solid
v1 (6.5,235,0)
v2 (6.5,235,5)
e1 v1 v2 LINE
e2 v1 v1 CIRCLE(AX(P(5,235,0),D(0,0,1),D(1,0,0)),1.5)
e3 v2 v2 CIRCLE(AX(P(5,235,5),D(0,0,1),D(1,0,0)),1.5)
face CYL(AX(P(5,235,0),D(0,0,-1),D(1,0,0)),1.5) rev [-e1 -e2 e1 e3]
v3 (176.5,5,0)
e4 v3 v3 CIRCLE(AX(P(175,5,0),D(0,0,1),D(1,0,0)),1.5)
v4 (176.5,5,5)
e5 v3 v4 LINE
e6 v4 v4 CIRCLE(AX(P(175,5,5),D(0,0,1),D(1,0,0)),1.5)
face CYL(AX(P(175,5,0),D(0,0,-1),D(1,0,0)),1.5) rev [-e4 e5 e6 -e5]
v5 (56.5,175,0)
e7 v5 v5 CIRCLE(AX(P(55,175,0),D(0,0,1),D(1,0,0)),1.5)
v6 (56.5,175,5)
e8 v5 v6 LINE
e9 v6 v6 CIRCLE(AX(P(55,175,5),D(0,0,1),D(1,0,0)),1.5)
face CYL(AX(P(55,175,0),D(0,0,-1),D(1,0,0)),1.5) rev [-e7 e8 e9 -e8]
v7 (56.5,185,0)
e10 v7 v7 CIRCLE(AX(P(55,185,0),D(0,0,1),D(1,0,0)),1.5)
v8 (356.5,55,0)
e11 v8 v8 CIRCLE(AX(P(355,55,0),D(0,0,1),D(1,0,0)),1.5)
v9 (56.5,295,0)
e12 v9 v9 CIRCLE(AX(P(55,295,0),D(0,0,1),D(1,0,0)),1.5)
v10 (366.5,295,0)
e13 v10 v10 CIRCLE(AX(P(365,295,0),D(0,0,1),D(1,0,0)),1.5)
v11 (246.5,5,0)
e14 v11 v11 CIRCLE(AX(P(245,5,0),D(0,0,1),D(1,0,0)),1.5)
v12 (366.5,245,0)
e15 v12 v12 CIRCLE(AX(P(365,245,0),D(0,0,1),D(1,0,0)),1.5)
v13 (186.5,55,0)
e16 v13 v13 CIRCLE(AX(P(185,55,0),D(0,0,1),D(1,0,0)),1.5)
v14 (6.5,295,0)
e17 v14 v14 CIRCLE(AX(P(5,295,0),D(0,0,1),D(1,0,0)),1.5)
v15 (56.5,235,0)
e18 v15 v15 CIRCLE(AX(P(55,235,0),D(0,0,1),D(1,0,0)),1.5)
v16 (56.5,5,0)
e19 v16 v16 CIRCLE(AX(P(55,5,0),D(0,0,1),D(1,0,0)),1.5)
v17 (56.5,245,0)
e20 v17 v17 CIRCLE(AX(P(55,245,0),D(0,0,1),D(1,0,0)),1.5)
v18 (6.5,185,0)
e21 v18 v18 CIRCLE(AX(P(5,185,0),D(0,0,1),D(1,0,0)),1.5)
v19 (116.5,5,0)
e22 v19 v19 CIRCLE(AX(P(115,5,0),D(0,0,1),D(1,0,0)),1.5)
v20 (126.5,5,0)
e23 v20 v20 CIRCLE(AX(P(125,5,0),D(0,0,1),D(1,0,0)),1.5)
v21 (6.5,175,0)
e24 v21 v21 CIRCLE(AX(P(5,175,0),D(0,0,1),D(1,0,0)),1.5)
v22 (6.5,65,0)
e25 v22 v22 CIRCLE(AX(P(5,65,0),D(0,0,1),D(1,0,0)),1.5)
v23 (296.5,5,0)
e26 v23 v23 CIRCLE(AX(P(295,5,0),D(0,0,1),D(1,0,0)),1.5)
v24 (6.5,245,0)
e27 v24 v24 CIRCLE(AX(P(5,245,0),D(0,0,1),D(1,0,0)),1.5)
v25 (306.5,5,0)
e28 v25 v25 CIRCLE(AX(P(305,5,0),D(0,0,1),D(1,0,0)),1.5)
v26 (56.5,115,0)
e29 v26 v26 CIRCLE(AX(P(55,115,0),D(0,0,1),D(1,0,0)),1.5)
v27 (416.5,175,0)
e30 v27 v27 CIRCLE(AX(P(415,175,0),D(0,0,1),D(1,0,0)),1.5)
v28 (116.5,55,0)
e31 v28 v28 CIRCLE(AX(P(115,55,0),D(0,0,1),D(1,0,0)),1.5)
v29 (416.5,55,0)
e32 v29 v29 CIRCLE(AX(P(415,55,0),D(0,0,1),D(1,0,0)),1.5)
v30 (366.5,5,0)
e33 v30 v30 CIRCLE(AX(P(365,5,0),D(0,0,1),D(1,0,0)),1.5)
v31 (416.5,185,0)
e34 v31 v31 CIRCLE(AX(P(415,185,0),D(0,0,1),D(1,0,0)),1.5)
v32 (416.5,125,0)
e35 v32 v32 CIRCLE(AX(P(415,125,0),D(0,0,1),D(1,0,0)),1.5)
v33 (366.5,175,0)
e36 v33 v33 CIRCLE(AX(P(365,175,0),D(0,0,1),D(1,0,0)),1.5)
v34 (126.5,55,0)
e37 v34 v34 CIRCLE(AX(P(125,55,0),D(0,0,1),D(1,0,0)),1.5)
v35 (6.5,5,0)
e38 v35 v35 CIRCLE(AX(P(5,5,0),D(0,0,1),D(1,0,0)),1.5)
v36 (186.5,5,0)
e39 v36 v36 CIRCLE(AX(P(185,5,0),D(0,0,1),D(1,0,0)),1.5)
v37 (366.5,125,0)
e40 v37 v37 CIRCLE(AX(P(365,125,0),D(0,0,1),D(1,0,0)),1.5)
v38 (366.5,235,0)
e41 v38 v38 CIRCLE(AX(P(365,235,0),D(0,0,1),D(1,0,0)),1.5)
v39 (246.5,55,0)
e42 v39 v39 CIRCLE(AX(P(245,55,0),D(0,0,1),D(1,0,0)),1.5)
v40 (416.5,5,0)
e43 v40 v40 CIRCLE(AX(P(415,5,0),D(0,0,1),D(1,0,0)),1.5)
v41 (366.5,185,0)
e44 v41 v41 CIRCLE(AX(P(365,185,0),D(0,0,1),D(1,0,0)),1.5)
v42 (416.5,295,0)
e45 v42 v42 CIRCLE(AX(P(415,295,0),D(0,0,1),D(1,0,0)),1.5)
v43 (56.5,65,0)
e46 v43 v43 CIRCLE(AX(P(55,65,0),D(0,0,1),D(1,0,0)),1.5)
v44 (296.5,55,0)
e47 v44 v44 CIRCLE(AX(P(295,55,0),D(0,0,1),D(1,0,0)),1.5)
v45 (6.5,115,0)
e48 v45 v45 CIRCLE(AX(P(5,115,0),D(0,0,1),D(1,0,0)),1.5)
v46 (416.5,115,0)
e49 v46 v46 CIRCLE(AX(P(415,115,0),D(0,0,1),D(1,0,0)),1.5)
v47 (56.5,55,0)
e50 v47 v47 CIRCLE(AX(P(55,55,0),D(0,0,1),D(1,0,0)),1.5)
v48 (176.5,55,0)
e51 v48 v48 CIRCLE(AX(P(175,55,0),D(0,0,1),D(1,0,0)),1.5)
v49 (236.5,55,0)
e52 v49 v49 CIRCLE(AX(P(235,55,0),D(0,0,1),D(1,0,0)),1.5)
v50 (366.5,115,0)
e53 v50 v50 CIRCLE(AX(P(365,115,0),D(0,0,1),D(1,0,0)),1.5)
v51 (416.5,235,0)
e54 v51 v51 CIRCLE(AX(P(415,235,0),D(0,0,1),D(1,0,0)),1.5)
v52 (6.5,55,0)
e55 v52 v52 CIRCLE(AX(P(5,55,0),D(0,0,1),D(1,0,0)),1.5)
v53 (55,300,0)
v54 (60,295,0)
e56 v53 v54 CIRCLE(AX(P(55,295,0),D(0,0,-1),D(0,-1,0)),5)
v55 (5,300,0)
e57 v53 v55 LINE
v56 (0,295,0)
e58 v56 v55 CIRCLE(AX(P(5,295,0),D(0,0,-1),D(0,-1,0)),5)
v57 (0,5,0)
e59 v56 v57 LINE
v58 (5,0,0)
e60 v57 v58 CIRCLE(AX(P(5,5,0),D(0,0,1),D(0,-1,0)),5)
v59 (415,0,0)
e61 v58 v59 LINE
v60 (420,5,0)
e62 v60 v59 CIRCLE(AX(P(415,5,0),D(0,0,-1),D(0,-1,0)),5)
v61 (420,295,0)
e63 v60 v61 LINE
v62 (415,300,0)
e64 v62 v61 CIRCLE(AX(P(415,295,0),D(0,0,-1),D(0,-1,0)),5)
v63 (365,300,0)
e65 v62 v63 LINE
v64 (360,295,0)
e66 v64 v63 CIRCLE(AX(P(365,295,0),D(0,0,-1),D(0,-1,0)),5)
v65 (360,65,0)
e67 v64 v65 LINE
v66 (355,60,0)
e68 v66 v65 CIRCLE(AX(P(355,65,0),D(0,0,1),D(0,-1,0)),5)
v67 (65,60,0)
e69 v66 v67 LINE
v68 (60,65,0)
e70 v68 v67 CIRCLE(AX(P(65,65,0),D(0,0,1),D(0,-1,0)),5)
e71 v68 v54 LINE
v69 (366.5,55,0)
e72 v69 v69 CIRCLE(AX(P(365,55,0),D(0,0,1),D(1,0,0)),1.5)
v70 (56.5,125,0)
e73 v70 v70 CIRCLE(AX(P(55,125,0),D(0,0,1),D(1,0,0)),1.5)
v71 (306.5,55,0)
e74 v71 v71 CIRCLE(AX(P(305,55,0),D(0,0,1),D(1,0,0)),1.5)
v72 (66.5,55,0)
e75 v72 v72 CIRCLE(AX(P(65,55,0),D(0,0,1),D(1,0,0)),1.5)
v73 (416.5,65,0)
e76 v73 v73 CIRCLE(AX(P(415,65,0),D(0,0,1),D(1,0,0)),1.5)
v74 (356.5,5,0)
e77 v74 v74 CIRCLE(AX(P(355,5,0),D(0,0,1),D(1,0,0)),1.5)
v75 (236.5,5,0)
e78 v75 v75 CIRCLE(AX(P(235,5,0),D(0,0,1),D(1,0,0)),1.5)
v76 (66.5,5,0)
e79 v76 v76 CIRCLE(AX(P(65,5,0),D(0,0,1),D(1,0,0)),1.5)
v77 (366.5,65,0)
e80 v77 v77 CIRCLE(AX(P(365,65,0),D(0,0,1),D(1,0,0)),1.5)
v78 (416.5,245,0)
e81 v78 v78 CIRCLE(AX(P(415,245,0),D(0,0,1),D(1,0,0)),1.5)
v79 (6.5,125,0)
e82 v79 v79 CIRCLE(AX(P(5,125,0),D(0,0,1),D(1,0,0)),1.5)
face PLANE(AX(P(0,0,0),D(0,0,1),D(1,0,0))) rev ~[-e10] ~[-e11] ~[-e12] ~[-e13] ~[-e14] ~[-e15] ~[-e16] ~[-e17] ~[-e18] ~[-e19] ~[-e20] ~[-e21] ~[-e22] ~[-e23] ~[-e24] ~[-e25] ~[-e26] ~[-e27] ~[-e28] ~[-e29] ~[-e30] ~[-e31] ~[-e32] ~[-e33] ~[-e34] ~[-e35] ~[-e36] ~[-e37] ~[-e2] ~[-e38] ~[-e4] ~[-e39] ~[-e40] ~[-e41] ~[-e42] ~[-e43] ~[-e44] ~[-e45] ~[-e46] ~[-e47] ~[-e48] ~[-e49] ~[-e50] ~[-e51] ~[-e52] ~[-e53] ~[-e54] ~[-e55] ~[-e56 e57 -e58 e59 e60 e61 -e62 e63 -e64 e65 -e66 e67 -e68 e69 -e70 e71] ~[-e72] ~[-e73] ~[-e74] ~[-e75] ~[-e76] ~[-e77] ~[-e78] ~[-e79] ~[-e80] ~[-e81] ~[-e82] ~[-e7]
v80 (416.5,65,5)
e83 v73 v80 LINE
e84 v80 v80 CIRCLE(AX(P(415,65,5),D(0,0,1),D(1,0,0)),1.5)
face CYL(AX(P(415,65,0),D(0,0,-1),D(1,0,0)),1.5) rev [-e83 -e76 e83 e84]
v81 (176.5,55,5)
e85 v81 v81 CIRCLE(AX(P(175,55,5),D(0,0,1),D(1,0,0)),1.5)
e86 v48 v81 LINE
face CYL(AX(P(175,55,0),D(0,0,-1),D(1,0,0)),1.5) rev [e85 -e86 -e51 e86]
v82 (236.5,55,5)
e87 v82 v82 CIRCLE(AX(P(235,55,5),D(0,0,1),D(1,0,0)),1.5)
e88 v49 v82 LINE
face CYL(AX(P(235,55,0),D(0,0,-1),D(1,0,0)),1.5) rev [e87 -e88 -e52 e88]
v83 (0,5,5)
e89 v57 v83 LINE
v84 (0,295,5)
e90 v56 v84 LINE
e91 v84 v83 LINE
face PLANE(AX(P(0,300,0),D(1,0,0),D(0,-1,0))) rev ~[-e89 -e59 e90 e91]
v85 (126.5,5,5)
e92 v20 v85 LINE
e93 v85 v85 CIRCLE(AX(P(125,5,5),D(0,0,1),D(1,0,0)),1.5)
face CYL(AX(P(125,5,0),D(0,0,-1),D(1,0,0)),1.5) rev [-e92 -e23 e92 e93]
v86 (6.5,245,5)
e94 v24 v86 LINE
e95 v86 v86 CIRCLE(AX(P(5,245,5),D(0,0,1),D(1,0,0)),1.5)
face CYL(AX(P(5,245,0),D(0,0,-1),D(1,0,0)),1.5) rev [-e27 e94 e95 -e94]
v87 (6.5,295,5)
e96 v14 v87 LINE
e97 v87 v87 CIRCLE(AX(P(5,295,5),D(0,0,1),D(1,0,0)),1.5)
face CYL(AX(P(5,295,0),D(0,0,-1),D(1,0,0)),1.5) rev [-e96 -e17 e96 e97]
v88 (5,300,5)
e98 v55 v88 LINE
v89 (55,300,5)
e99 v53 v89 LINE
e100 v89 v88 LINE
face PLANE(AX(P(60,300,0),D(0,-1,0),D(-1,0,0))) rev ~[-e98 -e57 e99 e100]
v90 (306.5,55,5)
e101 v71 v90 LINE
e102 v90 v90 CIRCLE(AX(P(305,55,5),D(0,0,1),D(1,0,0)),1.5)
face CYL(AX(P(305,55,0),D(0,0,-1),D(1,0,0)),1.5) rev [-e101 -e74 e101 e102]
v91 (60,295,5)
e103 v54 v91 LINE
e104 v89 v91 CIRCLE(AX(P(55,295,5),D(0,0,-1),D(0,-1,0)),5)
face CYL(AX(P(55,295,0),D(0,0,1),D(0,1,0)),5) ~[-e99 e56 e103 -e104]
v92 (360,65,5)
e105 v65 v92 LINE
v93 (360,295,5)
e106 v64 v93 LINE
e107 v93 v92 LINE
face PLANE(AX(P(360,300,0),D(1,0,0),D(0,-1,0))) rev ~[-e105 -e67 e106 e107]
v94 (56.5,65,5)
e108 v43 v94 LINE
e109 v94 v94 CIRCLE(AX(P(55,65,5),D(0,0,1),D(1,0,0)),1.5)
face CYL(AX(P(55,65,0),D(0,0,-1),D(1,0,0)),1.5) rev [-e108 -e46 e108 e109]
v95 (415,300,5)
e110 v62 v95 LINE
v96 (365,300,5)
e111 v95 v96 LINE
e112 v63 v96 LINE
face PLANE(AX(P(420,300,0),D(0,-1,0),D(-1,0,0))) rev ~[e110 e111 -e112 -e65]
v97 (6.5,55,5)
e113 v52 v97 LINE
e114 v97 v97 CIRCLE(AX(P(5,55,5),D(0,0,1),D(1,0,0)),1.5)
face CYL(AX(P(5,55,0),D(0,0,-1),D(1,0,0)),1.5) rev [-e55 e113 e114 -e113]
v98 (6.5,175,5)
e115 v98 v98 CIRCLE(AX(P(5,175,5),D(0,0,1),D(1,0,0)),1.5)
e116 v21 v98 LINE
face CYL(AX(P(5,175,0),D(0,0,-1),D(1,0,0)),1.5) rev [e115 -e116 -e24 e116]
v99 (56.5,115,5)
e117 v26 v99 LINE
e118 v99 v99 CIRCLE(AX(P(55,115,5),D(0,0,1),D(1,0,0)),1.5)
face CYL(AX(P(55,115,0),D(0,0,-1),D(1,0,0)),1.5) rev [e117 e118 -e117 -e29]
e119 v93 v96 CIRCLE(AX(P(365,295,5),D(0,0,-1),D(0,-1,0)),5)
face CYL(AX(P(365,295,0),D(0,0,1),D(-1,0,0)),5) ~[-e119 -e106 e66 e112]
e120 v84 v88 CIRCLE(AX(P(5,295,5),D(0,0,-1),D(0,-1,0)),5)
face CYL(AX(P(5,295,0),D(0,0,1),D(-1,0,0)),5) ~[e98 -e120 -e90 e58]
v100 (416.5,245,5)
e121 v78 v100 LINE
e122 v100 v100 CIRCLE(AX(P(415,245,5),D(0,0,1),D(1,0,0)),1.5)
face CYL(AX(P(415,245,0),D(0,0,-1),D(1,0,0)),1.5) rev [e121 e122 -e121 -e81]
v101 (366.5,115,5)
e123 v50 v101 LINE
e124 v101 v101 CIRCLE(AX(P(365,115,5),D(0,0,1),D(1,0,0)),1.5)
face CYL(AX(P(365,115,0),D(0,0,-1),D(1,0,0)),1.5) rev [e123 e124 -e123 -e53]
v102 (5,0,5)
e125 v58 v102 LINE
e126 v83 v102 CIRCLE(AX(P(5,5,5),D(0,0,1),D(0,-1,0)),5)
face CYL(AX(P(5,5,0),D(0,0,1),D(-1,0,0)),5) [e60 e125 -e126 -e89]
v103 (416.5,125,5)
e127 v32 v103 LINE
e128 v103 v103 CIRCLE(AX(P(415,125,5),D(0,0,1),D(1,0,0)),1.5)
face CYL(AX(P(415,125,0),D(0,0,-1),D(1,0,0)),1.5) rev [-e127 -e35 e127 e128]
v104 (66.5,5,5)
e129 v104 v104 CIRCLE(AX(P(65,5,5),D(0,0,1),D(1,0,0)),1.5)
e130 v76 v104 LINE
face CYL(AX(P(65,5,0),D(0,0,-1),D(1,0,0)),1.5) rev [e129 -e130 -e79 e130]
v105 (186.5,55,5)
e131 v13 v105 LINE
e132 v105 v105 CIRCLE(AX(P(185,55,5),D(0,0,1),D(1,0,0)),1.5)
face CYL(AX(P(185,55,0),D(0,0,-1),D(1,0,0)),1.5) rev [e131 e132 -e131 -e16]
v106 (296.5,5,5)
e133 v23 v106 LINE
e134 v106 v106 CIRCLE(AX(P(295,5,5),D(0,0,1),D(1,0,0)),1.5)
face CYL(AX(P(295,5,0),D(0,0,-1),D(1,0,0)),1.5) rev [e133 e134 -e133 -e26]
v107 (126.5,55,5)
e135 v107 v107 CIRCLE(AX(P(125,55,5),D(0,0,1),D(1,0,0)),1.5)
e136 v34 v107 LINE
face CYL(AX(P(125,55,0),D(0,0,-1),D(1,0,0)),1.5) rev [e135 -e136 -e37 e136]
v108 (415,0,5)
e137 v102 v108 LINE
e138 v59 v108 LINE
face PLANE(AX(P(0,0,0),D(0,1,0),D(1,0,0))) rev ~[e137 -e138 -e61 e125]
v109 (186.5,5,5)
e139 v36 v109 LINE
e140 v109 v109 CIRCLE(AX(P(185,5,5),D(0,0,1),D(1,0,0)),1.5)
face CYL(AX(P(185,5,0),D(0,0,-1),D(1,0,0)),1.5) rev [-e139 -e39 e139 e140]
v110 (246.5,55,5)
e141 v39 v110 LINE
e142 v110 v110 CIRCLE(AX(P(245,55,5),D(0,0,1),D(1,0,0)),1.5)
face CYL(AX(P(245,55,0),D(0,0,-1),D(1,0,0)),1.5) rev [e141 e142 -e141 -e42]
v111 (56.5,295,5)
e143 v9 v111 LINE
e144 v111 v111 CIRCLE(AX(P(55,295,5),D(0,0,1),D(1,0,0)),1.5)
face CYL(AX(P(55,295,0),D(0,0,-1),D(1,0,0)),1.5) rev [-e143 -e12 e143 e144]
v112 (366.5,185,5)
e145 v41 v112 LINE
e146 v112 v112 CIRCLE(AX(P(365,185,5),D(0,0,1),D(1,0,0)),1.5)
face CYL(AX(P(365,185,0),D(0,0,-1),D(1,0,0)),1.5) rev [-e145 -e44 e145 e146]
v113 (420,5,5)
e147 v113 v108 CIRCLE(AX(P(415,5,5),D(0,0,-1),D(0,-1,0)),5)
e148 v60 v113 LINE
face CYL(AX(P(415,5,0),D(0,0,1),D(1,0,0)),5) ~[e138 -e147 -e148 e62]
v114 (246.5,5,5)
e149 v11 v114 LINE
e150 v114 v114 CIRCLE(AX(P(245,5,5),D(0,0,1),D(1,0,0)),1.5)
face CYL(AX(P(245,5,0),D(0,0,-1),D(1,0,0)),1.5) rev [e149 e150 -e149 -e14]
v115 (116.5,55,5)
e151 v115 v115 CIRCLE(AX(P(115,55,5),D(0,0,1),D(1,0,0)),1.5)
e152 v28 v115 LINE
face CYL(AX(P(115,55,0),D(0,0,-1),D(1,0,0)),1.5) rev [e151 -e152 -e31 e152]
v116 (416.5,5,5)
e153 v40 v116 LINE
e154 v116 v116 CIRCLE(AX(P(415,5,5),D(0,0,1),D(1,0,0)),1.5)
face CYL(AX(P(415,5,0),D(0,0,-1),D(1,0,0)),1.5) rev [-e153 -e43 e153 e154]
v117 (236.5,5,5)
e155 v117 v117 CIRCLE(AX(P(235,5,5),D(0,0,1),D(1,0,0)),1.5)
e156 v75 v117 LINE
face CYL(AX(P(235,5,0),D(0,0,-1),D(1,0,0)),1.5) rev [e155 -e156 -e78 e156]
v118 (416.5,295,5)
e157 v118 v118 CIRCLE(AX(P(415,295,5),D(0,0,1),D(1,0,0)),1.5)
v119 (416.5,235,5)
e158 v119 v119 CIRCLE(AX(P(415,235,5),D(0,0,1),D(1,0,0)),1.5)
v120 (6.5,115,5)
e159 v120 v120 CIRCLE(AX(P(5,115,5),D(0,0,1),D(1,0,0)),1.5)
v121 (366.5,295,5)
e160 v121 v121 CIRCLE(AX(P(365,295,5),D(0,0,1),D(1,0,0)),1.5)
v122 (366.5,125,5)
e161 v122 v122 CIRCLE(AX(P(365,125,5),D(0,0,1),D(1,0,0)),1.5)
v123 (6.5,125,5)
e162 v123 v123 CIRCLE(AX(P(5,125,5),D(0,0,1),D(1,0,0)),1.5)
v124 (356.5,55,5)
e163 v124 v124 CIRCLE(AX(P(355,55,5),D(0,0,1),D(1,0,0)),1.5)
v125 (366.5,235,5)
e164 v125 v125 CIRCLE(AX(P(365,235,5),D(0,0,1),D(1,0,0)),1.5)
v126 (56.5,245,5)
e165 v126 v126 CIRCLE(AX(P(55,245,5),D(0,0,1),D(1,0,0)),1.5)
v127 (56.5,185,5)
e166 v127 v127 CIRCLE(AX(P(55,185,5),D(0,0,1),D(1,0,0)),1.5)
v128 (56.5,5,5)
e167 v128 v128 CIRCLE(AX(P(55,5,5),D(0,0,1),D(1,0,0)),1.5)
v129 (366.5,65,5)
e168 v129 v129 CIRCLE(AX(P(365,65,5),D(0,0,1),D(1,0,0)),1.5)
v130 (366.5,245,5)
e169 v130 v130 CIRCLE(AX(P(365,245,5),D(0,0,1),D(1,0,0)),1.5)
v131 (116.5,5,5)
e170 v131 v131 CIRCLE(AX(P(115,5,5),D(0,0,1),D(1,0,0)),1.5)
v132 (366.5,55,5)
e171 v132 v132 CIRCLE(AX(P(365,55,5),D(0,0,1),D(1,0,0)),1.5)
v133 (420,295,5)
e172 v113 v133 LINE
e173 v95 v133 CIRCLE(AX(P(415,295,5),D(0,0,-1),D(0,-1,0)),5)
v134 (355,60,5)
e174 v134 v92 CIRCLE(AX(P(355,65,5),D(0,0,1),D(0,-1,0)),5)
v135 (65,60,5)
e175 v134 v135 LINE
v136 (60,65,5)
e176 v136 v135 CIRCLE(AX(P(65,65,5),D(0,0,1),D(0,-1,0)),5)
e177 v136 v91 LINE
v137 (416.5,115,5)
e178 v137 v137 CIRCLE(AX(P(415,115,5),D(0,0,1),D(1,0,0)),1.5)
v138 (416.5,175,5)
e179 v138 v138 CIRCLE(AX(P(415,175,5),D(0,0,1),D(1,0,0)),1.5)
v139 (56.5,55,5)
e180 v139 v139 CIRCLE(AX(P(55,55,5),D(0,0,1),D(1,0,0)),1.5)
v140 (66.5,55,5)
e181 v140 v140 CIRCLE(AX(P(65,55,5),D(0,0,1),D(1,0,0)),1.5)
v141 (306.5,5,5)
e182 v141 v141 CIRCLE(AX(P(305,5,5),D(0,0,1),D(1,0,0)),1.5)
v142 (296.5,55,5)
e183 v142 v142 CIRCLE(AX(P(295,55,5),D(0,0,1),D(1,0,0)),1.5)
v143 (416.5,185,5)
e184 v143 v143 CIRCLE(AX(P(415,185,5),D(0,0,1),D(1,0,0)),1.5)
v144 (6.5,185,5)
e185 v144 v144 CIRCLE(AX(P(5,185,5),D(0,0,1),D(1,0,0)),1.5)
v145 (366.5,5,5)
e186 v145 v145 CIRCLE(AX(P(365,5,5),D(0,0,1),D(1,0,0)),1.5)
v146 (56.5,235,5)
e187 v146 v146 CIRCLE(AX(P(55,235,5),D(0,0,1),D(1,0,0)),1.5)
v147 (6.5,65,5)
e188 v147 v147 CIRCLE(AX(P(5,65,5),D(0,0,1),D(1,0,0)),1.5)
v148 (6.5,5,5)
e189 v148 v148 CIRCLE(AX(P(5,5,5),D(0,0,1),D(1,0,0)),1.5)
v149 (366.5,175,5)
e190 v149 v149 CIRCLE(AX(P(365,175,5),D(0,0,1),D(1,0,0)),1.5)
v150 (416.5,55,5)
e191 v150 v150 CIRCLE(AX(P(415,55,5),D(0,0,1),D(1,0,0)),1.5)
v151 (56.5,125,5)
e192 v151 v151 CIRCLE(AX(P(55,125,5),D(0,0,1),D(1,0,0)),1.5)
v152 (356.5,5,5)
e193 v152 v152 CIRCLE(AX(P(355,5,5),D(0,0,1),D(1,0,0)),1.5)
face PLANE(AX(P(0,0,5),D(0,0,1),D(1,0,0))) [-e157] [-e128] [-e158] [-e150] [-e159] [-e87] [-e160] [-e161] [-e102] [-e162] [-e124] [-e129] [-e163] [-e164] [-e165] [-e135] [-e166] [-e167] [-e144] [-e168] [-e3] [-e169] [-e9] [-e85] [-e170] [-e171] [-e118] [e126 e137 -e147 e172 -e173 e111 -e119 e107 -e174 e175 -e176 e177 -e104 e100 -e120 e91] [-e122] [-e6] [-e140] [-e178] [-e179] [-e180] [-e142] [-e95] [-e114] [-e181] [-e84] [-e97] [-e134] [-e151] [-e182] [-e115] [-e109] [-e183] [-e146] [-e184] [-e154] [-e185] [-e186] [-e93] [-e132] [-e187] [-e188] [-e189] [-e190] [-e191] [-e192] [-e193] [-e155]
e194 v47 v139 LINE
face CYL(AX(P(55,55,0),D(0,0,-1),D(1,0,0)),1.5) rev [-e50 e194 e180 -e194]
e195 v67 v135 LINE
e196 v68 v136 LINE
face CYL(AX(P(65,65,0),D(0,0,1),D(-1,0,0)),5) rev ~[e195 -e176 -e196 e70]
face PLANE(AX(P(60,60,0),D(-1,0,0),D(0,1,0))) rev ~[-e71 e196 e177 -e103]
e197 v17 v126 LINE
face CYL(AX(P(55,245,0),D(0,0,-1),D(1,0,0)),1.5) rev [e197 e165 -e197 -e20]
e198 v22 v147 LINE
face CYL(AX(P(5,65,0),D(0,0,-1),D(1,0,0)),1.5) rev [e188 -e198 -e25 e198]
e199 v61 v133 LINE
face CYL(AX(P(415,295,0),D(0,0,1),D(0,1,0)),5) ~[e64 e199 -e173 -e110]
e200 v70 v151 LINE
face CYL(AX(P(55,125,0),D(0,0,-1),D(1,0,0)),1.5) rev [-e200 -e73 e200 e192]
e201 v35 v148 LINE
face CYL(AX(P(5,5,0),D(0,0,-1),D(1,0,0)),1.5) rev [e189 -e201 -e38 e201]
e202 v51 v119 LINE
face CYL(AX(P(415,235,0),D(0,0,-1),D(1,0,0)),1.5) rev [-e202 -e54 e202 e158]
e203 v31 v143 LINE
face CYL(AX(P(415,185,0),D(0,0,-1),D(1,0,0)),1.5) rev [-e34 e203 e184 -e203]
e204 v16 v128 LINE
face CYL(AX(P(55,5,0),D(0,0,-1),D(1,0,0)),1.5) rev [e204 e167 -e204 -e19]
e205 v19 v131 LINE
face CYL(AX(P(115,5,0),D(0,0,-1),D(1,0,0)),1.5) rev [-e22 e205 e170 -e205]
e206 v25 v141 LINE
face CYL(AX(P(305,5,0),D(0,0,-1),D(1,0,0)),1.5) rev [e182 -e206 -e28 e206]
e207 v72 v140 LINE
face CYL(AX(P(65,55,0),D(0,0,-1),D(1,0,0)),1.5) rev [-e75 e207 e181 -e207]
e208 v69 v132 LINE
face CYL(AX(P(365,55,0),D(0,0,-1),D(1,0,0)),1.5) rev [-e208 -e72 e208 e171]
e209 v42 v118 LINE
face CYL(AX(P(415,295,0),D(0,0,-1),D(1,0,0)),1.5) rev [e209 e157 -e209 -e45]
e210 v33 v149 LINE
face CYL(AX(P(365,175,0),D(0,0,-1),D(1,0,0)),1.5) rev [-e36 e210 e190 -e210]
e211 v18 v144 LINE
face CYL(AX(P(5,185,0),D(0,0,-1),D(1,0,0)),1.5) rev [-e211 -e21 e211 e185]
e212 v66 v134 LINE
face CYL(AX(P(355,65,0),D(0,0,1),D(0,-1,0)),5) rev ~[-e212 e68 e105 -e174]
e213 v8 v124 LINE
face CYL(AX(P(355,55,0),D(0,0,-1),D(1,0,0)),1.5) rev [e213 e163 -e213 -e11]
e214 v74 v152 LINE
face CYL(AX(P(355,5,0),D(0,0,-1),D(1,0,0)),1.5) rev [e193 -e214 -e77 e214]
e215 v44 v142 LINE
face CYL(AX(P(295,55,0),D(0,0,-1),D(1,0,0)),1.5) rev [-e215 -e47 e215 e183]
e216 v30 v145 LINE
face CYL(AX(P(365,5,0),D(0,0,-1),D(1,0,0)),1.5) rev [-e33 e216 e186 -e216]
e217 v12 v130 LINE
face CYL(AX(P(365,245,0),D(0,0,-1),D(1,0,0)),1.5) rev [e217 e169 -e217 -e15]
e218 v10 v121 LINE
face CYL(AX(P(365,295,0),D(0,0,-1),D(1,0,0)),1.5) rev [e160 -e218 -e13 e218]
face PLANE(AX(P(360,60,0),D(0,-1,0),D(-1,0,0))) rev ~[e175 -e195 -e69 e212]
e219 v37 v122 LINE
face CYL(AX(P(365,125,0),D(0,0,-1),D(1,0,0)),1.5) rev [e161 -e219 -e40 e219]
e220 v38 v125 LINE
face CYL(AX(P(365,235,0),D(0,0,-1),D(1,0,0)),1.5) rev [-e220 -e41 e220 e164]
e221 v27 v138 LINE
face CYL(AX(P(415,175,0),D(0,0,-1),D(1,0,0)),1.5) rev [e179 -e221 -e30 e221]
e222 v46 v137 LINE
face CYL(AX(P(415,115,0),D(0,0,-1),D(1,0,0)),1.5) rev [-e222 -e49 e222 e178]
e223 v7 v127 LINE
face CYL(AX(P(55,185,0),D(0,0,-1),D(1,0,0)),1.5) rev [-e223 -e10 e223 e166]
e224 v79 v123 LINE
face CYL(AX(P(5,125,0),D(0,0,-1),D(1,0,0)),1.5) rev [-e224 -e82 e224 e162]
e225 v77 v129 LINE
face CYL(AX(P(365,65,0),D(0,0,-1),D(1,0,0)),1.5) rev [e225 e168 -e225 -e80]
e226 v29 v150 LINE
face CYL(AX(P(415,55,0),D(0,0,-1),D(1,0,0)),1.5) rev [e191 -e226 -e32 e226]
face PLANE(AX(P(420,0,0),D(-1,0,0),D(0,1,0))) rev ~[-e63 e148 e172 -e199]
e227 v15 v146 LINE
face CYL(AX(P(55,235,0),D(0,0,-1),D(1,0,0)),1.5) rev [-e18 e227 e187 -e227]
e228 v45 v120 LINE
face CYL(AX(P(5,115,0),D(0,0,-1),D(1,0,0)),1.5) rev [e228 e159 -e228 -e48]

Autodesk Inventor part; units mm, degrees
ref_plane "YZ Plane" through (0, 0, 0) normal (1, 0, 0) x (0, 1, 0)
ref_plane "XZ Plane" through (0, 0, 0) normal (0, 1, 0) x (-1, 0, 0)
ref_plane "XY Plane" through (0, 0, 0) normal (0, 0, 1) x (1, 0, 0)
sketch "Sketch1" plane through (0, 0, 0) normal (0, 0, 1) x (1, 0, 0)
  line L0 (0, 0) -> (420, 0)
  line L1 (420, 0) -> (420, 300)
  line L2 (420, 300) -> (360, 300)
  line L3 (360, 300) -> (360, 60)
  line L4 (360, 60) -> (60, 60)
  line L5 (60, 60) -> (60, 300)
  line L6 (60, 300) -> (0, 300)
  line L7 (0, 300) -> (0, 0)
  line L8 (0, 300) -> (0, 240) construction
  line L9 (0, 240) -> (0, 180) construction
  line L10 (0, 180) -> (0, 120) construction
  line L11 (0, 120) -> (0, 60) construction
  line L12 (420, 300) -> (420, 240) construction
  line L13 (420, 240) -> (420, 180) construction
  line L14 (420, 180) -> (420, 120) construction
  line L15 (420, 120) -> (420, 60) construction
  line L16 (60, 60) -> (120, 60) construction
  line L17 (120, 60) -> (180, 60) construction
  line L18 (180, 60) -> (240, 60) construction
  line L19 (240, 60) -> (300, 60) construction
  line L20 (300, 60) -> (360, 60) construction
  line L21 (0, 240) -> (60, 300) construction
  line L22 (0, 240) -> (60, 240) construction
  line L23 (0, 180) -> (60, 180) construction
  line L24 (0, 120) -> (60, 120) construction
  line L25 (0, 60) -> (60, 60) construction
  line L26 (60, 60) -> (60, 0) construction
  line L27 (0, 180) -> (60, 240) construction
  line L28 (0, 120) -> (60, 180) construction
  line L29 (0, 60) -> (60, 120) construction
  line L30 (0, 0) -> (60, 60) construction
  line L31 (120, 60) -> (120, 0) construction
  line L32 (180, 60) -> (180, 0) construction
  line L33 (240, 60) -> (240, 0) construction
  line L34 (300, 60) -> (300, 0) construction
  line L35 (360, 60) -> (360, 0) construction
  line L36 (360, 60) -> (420, 60) construction
  line L37 (360, 120) -> (420, 120) construction
  line L38 (420, 180) -> (360, 180) construction
  line L39 (420, 240) -> (360, 240) construction
  line L40 (60, 0) -> (120, 60) construction
  line L41 (120, 0) -> (180, 60) construction
  line L42 (180, 0) -> (240, 60) construction
  line L43 (240, 0) -> (300, 60) construction
  line L44 (300, 0) -> (360, 60) construction
  line L45 (360, 0) -> (420, 60) construction
  line L46 (360, 60) -> (420, 120) construction
  line L47 (360, 120) -> (420, 180) construction
  line L48 (360, 180) -> (420, 240) construction
  line L49 (360, 240) -> (420, 300) construction
  line L50 (5, 245) -> (55, 245) construction
  line L51 (55, 245) -> (55, 295) construction
  line L52 (55, 295) -> (5, 295) construction
  line L53 (5, 295) -> (5, 245) construction
  line L54 (5, 245) -> (55, 295) construction
  line L55 (55, 245) -> (5, 295) construction
  line L56 (5, 185) -> (55, 185) construction
  line L57 (55, 185) -> (55, 235) construction
  line L58 (55, 235) -> (5, 235) construction
  line L59 (5, 235) -> (5, 185) construction
  line L60 (5, 185) -> (55, 235) construction
  line L61 (55, 185) -> (5, 235) construction
  line L62 (5, 125) -> (55, 125) construction
  line L63 (55, 125) -> (55, 175) construction
  line L64 (55, 175) -> (5, 175) construction
  line L65 (5, 175) -> (5, 125) construction
  line L66 (5, 125) -> (55, 175) construction
  line L67 (55, 125) -> (5, 175) construction
  line L68 (5, 65) -> (55, 65) construction
  line L69 (55, 65) -> (55, 115) construction
  line L70 (55, 115) -> (5, 115) construction
  line L71 (5, 115) -> (5, 65) construction
  line L72 (5, 65) -> (55, 115) construction
  line L73 (55, 65) -> (5, 115) construction
  line L74 (5, 5) -> (55, 5) construction
  line L75 (55, 5) -> (55, 55) construction
  line L76 (55, 55) -> (5, 55) construction
  line L77 (5, 55) -> (5, 5) construction
  line L78 (5, 5) -> (55, 55) construction
  line L79 (55, 5) -> (5, 55) construction
  line L80 (65, 5) -> (115, 5) construction
  line L81 (115, 5) -> (115, 55) construction
  line L82 (115, 55) -> (65, 55) construction
  line L83 (65, 55) -> (65, 5) construction
  line L84 (65, 5) -> (115, 55) construction
  line L85 (115, 5) -> (65, 55) construction
  line L86 (125, 5) -> (175, 5) construction
  line L87 (175, 5) -> (175, 55) construction
  line L88 (175, 55) -> (125, 55) construction
  line L89 (125, 55) -> (125, 5) construction
  line L90 (125, 5) -> (175, 55) construction
  line L91 (175, 5) -> (125, 55) construction
  line L92 (185, 5) -> (235, 5) construction
  line L93 (235, 5) -> (235, 55) construction
  line L94 (235, 55) -> (185, 55) construction
  line L95 (185, 55) -> (185, 5) construction
  line L96 (185, 5) -> (235, 55) construction
  line L97 (235, 5) -> (185, 55) construction
  line L98 (245, 5) -> (295, 5) construction
  line L99 (295, 5) -> (295, 55) construction
  line L100 (295, 55) -> (245, 55) construction
  line L101 (245, 55) -> (245, 5) construction
  line L102 (245, 5) -> (295, 55) construction
  line L103 (295, 5) -> (245, 55) construction
  line L104 (305, 5) -> (355, 5) construction
  line L105 (355, 5) -> (355, 55) construction
  line L106 (355, 55) -> (305, 55) construction
  line L107 (305, 55) -> (305, 5) construction
  line L108 (305, 5) -> (355, 55) construction
  line L109 (355, 5) -> (305, 55) construction
  line L110 (365, 5) -> (415, 5) construction
  line L111 (415, 5) -> (415, 55) construction
  line L112 (415, 55) -> (365, 55) construction
  line L113 (365, 55) -> (365, 5) construction
  line L114 (365, 5) -> (415, 55) construction
  line L115 (415, 5) -> (365, 55) construction
  line L116 (365, 65) -> (415, 65) construction
  line L117 (415, 65) -> (415, 115) construction
  line L118 (415, 115) -> (365, 115) construction
  line L119 (365, 115) -> (365, 65) construction
  line L120 (365, 65) -> (415, 115) construction
  line L121 (415, 65) -> (365, 115) construction
  line L122 (365, 125) -> (415, 125) construction
  line L123 (415, 125) -> (415, 175) construction
  line L124 (415, 175) -> (365, 175) construction
  line L125 (365, 175) -> (365, 125) construction
  line L126 (365, 125) -> (415, 175) construction
  line L127 (415, 125) -> (365, 175) construction
  line L128 (365, 185) -> (415, 185) construction
  line L129 (415, 185) -> (415, 235) construction
  line L130 (415, 235) -> (365, 235) construction
  line L131 (365, 235) -> (365, 185) construction
  line L132 (365, 185) -> (415, 235) construction
  line L133 (415, 185) -> (365, 235) construction
  line L134 (365, 245) -> (415, 245) construction
  line L135 (415, 245) -> (415, 295) construction
  line L136 (415, 295) -> (365, 295) construction
  line L137 (365, 295) -> (365, 245) construction
  line L138 (365, 245) -> (415, 295) construction
  line L139 (415, 245) -> (365, 295) construction
  circle A0 centre (5, 295) radius 1.5
  circle A1 centre (55, 295) radius 1.5
  circle A2 centre (55, 245) radius 1.5
  circle A3 centre (5, 245) radius 1.5
  circle A4 centre (5, 5) radius 1.5
  circle A5 centre (55, 5) radius 1.5
  circle A6 centre (5, 55) radius 1.5
  circle A7 centre (55, 55) radius 1.5
  circle A8 centre (235, 55) radius 1.5
  circle A9 centre (185, 55) radius 1.5
  circle A10 centre (185, 5) radius 1.5
  circle A11 centre (235, 5) radius 1.5
  circle A12 centre (365, 55) radius 1.5
  circle A13 centre (415, 55) radius 1.5
  circle A14 centre (415, 5) radius 1.5
  circle A15 centre (365, 5) radius 1.5
  circle A16 centre (365, 295) radius 1.5
  circle A17 centre (415, 295) radius 1.5
  circle A18 centre (365, 245) radius 1.5
  circle A19 centre (415, 245) radius 1.5
  circle A20 centre (365, 235) radius 1.5
  circle A21 centre (415, 235) radius 1.5
  circle A22 centre (365, 185) radius 1.5
  circle A23 centre (415, 185) radius 1.5
  circle A24 centre (365, 175) radius 1.5
  circle A25 centre (415, 175) radius 1.5
  circle A26 centre (365, 125) radius 1.5
  circle A27 centre (415, 125) radius 1.5
  circle A28 centre (365, 115) radius 1.5
  circle A29 centre (415, 115) radius 1.5
  circle A30 centre (365, 65) radius 1.5
  circle A31 centre (415, 65) radius 1.5
  circle A32 centre (305, 55) radius 1.5
  circle A33 centre (355, 55) radius 1.5
  circle A34 centre (305, 5) radius 1.5
  circle A35 centre (355, 5) radius 1.5
  circle A36 centre (295, 55) radius 1.5
  circle A37 centre (245, 55) radius 1.5
  circle A38 centre (245, 5) radius 1.5
  circle A39 centre (295, 5) radius 1.5
  circle A40 centre (175, 55) radius 1.5
  circle A41 centre (125, 55) radius 1.5
  circle A42 centre (125, 5) radius 1.5
  circle A43 centre (175, 5) radius 1.5
  circle A44 centre (115, 55) radius 1.5
  circle A45 centre (65, 55) radius 1.5
  circle A46 centre (65, 5) radius 1.5
  circle A47 centre (115, 5) radius 1.5
  circle A48 centre (5, 65) radius 1.5
  circle A49 centre (55, 65) radius 1.5
  circle A50 centre (55, 115) radius 1.5
  circle A51 centre (5, 115) radius 1.5
  circle A52 centre (5, 125) radius 1.5
  circle A53 centre (55, 125) radius 1.5
  circle A54 centre (5, 175) radius 1.5
  circle A55 centre (55, 175) radius 1.5
  circle A56 centre (5, 185) radius 1.5
  circle A57 centre (55, 185) radius 1.5
  circle A58 centre (5, 235) radius 1.5
  circle A59 centre (55, 235) radius 1.5
  point P0 (30, 270)
  point P1 (30, 210)
  point P2 (30, 150)
  point P3 (30, 90)
  point P4 (30, 30)
  point P5 (90, 30)
  point P6 (150, 30)
  point P7 (210, 30)
  point P8 (270, 30)
  point P9 (330, 30)
  point P10 (390, 30)
  point P11 (390, 90)
  point P12 (390, 150)
  point P13 (390, 210)
  point P14 (390, 270)
  dimension "d0" = 420
  dimension "d1" = 300
  dimension "d2" = 60
  dimension "d3" = 240
  dimension "d4" = 300
  dimension "d5" = 240
  dimension "d6" = 60
  dimension "d7" = 60
  dimension "d8" = 60
  dimension "d9" = 60
  dimension "d10" = 60
  dimension "d11" = 60
  dimension "d12" = 60
  dimension "d13" = 60
  dimension "d14" = 60
  dimension "d15" = 60
  dimension "d16" = 60
  dimension "d17" = 60
  dimension "d20" = 50
  dimension "d21" = 50
  dimension "d22" = 50
  dimension "d23" = 50
  dimension "d24" = 50
  dimension "d25" = 50
  dimension "d26" = 50
  dimension "d27" = 50
  dimension "d28" = 50
  dimension "d29" = 50
  dimension "d30" = 50
  dimension "d31" = 50
  dimension "d32" = 50
  dimension "d33" = 50
  dimension "d34" = 50
  dimension "d35" = 50
  dimension "d36" = 50
  dimension "d37" = 50
  dimension "d38" = 50
  dimension "d39" = 50
  dimension "d40" = 50
  dimension "d41" = 50
  dimension "d42" = 50
  dimension "d43" = 50
  dimension "d44" = 50
  dimension "d45" = 50
  dimension "d46" = 50
  dimension "d47" = 50
  dimension "d48" = 50
  dimension "d49" = 50
  dimension "d50" = 3
  dimension "d51" = 3
  dimension "d52" = 3
  dimension "d53" = 3
  dimension "d54" = 3
  dimension "d55" = 3
  dimension "d56" = 3
  dimension "d57" = 3
  dimension "d58" = 3
  dimension "d59" = 3
  dimension "d60" = 3
  dimension "d61" = 3
  dimension "d62" = 3
  dimension "d63" = 3
  dimension "d64" = 3
  dimension "d65" = 3
extrude "Frame" add sketch "Sketch1" along normal blind 5
fillet "Fillet1" radius 5 8 edges at (60, 60, 2.5) (360, 60, 2.5) (420, 0, 2.5) (360, 300, 2.5) (420, 300, 2.5) (0, 0, 2.5) (0, 300, 2.5) (60, 300, 2.5)
properties part number "OuterFrame"
